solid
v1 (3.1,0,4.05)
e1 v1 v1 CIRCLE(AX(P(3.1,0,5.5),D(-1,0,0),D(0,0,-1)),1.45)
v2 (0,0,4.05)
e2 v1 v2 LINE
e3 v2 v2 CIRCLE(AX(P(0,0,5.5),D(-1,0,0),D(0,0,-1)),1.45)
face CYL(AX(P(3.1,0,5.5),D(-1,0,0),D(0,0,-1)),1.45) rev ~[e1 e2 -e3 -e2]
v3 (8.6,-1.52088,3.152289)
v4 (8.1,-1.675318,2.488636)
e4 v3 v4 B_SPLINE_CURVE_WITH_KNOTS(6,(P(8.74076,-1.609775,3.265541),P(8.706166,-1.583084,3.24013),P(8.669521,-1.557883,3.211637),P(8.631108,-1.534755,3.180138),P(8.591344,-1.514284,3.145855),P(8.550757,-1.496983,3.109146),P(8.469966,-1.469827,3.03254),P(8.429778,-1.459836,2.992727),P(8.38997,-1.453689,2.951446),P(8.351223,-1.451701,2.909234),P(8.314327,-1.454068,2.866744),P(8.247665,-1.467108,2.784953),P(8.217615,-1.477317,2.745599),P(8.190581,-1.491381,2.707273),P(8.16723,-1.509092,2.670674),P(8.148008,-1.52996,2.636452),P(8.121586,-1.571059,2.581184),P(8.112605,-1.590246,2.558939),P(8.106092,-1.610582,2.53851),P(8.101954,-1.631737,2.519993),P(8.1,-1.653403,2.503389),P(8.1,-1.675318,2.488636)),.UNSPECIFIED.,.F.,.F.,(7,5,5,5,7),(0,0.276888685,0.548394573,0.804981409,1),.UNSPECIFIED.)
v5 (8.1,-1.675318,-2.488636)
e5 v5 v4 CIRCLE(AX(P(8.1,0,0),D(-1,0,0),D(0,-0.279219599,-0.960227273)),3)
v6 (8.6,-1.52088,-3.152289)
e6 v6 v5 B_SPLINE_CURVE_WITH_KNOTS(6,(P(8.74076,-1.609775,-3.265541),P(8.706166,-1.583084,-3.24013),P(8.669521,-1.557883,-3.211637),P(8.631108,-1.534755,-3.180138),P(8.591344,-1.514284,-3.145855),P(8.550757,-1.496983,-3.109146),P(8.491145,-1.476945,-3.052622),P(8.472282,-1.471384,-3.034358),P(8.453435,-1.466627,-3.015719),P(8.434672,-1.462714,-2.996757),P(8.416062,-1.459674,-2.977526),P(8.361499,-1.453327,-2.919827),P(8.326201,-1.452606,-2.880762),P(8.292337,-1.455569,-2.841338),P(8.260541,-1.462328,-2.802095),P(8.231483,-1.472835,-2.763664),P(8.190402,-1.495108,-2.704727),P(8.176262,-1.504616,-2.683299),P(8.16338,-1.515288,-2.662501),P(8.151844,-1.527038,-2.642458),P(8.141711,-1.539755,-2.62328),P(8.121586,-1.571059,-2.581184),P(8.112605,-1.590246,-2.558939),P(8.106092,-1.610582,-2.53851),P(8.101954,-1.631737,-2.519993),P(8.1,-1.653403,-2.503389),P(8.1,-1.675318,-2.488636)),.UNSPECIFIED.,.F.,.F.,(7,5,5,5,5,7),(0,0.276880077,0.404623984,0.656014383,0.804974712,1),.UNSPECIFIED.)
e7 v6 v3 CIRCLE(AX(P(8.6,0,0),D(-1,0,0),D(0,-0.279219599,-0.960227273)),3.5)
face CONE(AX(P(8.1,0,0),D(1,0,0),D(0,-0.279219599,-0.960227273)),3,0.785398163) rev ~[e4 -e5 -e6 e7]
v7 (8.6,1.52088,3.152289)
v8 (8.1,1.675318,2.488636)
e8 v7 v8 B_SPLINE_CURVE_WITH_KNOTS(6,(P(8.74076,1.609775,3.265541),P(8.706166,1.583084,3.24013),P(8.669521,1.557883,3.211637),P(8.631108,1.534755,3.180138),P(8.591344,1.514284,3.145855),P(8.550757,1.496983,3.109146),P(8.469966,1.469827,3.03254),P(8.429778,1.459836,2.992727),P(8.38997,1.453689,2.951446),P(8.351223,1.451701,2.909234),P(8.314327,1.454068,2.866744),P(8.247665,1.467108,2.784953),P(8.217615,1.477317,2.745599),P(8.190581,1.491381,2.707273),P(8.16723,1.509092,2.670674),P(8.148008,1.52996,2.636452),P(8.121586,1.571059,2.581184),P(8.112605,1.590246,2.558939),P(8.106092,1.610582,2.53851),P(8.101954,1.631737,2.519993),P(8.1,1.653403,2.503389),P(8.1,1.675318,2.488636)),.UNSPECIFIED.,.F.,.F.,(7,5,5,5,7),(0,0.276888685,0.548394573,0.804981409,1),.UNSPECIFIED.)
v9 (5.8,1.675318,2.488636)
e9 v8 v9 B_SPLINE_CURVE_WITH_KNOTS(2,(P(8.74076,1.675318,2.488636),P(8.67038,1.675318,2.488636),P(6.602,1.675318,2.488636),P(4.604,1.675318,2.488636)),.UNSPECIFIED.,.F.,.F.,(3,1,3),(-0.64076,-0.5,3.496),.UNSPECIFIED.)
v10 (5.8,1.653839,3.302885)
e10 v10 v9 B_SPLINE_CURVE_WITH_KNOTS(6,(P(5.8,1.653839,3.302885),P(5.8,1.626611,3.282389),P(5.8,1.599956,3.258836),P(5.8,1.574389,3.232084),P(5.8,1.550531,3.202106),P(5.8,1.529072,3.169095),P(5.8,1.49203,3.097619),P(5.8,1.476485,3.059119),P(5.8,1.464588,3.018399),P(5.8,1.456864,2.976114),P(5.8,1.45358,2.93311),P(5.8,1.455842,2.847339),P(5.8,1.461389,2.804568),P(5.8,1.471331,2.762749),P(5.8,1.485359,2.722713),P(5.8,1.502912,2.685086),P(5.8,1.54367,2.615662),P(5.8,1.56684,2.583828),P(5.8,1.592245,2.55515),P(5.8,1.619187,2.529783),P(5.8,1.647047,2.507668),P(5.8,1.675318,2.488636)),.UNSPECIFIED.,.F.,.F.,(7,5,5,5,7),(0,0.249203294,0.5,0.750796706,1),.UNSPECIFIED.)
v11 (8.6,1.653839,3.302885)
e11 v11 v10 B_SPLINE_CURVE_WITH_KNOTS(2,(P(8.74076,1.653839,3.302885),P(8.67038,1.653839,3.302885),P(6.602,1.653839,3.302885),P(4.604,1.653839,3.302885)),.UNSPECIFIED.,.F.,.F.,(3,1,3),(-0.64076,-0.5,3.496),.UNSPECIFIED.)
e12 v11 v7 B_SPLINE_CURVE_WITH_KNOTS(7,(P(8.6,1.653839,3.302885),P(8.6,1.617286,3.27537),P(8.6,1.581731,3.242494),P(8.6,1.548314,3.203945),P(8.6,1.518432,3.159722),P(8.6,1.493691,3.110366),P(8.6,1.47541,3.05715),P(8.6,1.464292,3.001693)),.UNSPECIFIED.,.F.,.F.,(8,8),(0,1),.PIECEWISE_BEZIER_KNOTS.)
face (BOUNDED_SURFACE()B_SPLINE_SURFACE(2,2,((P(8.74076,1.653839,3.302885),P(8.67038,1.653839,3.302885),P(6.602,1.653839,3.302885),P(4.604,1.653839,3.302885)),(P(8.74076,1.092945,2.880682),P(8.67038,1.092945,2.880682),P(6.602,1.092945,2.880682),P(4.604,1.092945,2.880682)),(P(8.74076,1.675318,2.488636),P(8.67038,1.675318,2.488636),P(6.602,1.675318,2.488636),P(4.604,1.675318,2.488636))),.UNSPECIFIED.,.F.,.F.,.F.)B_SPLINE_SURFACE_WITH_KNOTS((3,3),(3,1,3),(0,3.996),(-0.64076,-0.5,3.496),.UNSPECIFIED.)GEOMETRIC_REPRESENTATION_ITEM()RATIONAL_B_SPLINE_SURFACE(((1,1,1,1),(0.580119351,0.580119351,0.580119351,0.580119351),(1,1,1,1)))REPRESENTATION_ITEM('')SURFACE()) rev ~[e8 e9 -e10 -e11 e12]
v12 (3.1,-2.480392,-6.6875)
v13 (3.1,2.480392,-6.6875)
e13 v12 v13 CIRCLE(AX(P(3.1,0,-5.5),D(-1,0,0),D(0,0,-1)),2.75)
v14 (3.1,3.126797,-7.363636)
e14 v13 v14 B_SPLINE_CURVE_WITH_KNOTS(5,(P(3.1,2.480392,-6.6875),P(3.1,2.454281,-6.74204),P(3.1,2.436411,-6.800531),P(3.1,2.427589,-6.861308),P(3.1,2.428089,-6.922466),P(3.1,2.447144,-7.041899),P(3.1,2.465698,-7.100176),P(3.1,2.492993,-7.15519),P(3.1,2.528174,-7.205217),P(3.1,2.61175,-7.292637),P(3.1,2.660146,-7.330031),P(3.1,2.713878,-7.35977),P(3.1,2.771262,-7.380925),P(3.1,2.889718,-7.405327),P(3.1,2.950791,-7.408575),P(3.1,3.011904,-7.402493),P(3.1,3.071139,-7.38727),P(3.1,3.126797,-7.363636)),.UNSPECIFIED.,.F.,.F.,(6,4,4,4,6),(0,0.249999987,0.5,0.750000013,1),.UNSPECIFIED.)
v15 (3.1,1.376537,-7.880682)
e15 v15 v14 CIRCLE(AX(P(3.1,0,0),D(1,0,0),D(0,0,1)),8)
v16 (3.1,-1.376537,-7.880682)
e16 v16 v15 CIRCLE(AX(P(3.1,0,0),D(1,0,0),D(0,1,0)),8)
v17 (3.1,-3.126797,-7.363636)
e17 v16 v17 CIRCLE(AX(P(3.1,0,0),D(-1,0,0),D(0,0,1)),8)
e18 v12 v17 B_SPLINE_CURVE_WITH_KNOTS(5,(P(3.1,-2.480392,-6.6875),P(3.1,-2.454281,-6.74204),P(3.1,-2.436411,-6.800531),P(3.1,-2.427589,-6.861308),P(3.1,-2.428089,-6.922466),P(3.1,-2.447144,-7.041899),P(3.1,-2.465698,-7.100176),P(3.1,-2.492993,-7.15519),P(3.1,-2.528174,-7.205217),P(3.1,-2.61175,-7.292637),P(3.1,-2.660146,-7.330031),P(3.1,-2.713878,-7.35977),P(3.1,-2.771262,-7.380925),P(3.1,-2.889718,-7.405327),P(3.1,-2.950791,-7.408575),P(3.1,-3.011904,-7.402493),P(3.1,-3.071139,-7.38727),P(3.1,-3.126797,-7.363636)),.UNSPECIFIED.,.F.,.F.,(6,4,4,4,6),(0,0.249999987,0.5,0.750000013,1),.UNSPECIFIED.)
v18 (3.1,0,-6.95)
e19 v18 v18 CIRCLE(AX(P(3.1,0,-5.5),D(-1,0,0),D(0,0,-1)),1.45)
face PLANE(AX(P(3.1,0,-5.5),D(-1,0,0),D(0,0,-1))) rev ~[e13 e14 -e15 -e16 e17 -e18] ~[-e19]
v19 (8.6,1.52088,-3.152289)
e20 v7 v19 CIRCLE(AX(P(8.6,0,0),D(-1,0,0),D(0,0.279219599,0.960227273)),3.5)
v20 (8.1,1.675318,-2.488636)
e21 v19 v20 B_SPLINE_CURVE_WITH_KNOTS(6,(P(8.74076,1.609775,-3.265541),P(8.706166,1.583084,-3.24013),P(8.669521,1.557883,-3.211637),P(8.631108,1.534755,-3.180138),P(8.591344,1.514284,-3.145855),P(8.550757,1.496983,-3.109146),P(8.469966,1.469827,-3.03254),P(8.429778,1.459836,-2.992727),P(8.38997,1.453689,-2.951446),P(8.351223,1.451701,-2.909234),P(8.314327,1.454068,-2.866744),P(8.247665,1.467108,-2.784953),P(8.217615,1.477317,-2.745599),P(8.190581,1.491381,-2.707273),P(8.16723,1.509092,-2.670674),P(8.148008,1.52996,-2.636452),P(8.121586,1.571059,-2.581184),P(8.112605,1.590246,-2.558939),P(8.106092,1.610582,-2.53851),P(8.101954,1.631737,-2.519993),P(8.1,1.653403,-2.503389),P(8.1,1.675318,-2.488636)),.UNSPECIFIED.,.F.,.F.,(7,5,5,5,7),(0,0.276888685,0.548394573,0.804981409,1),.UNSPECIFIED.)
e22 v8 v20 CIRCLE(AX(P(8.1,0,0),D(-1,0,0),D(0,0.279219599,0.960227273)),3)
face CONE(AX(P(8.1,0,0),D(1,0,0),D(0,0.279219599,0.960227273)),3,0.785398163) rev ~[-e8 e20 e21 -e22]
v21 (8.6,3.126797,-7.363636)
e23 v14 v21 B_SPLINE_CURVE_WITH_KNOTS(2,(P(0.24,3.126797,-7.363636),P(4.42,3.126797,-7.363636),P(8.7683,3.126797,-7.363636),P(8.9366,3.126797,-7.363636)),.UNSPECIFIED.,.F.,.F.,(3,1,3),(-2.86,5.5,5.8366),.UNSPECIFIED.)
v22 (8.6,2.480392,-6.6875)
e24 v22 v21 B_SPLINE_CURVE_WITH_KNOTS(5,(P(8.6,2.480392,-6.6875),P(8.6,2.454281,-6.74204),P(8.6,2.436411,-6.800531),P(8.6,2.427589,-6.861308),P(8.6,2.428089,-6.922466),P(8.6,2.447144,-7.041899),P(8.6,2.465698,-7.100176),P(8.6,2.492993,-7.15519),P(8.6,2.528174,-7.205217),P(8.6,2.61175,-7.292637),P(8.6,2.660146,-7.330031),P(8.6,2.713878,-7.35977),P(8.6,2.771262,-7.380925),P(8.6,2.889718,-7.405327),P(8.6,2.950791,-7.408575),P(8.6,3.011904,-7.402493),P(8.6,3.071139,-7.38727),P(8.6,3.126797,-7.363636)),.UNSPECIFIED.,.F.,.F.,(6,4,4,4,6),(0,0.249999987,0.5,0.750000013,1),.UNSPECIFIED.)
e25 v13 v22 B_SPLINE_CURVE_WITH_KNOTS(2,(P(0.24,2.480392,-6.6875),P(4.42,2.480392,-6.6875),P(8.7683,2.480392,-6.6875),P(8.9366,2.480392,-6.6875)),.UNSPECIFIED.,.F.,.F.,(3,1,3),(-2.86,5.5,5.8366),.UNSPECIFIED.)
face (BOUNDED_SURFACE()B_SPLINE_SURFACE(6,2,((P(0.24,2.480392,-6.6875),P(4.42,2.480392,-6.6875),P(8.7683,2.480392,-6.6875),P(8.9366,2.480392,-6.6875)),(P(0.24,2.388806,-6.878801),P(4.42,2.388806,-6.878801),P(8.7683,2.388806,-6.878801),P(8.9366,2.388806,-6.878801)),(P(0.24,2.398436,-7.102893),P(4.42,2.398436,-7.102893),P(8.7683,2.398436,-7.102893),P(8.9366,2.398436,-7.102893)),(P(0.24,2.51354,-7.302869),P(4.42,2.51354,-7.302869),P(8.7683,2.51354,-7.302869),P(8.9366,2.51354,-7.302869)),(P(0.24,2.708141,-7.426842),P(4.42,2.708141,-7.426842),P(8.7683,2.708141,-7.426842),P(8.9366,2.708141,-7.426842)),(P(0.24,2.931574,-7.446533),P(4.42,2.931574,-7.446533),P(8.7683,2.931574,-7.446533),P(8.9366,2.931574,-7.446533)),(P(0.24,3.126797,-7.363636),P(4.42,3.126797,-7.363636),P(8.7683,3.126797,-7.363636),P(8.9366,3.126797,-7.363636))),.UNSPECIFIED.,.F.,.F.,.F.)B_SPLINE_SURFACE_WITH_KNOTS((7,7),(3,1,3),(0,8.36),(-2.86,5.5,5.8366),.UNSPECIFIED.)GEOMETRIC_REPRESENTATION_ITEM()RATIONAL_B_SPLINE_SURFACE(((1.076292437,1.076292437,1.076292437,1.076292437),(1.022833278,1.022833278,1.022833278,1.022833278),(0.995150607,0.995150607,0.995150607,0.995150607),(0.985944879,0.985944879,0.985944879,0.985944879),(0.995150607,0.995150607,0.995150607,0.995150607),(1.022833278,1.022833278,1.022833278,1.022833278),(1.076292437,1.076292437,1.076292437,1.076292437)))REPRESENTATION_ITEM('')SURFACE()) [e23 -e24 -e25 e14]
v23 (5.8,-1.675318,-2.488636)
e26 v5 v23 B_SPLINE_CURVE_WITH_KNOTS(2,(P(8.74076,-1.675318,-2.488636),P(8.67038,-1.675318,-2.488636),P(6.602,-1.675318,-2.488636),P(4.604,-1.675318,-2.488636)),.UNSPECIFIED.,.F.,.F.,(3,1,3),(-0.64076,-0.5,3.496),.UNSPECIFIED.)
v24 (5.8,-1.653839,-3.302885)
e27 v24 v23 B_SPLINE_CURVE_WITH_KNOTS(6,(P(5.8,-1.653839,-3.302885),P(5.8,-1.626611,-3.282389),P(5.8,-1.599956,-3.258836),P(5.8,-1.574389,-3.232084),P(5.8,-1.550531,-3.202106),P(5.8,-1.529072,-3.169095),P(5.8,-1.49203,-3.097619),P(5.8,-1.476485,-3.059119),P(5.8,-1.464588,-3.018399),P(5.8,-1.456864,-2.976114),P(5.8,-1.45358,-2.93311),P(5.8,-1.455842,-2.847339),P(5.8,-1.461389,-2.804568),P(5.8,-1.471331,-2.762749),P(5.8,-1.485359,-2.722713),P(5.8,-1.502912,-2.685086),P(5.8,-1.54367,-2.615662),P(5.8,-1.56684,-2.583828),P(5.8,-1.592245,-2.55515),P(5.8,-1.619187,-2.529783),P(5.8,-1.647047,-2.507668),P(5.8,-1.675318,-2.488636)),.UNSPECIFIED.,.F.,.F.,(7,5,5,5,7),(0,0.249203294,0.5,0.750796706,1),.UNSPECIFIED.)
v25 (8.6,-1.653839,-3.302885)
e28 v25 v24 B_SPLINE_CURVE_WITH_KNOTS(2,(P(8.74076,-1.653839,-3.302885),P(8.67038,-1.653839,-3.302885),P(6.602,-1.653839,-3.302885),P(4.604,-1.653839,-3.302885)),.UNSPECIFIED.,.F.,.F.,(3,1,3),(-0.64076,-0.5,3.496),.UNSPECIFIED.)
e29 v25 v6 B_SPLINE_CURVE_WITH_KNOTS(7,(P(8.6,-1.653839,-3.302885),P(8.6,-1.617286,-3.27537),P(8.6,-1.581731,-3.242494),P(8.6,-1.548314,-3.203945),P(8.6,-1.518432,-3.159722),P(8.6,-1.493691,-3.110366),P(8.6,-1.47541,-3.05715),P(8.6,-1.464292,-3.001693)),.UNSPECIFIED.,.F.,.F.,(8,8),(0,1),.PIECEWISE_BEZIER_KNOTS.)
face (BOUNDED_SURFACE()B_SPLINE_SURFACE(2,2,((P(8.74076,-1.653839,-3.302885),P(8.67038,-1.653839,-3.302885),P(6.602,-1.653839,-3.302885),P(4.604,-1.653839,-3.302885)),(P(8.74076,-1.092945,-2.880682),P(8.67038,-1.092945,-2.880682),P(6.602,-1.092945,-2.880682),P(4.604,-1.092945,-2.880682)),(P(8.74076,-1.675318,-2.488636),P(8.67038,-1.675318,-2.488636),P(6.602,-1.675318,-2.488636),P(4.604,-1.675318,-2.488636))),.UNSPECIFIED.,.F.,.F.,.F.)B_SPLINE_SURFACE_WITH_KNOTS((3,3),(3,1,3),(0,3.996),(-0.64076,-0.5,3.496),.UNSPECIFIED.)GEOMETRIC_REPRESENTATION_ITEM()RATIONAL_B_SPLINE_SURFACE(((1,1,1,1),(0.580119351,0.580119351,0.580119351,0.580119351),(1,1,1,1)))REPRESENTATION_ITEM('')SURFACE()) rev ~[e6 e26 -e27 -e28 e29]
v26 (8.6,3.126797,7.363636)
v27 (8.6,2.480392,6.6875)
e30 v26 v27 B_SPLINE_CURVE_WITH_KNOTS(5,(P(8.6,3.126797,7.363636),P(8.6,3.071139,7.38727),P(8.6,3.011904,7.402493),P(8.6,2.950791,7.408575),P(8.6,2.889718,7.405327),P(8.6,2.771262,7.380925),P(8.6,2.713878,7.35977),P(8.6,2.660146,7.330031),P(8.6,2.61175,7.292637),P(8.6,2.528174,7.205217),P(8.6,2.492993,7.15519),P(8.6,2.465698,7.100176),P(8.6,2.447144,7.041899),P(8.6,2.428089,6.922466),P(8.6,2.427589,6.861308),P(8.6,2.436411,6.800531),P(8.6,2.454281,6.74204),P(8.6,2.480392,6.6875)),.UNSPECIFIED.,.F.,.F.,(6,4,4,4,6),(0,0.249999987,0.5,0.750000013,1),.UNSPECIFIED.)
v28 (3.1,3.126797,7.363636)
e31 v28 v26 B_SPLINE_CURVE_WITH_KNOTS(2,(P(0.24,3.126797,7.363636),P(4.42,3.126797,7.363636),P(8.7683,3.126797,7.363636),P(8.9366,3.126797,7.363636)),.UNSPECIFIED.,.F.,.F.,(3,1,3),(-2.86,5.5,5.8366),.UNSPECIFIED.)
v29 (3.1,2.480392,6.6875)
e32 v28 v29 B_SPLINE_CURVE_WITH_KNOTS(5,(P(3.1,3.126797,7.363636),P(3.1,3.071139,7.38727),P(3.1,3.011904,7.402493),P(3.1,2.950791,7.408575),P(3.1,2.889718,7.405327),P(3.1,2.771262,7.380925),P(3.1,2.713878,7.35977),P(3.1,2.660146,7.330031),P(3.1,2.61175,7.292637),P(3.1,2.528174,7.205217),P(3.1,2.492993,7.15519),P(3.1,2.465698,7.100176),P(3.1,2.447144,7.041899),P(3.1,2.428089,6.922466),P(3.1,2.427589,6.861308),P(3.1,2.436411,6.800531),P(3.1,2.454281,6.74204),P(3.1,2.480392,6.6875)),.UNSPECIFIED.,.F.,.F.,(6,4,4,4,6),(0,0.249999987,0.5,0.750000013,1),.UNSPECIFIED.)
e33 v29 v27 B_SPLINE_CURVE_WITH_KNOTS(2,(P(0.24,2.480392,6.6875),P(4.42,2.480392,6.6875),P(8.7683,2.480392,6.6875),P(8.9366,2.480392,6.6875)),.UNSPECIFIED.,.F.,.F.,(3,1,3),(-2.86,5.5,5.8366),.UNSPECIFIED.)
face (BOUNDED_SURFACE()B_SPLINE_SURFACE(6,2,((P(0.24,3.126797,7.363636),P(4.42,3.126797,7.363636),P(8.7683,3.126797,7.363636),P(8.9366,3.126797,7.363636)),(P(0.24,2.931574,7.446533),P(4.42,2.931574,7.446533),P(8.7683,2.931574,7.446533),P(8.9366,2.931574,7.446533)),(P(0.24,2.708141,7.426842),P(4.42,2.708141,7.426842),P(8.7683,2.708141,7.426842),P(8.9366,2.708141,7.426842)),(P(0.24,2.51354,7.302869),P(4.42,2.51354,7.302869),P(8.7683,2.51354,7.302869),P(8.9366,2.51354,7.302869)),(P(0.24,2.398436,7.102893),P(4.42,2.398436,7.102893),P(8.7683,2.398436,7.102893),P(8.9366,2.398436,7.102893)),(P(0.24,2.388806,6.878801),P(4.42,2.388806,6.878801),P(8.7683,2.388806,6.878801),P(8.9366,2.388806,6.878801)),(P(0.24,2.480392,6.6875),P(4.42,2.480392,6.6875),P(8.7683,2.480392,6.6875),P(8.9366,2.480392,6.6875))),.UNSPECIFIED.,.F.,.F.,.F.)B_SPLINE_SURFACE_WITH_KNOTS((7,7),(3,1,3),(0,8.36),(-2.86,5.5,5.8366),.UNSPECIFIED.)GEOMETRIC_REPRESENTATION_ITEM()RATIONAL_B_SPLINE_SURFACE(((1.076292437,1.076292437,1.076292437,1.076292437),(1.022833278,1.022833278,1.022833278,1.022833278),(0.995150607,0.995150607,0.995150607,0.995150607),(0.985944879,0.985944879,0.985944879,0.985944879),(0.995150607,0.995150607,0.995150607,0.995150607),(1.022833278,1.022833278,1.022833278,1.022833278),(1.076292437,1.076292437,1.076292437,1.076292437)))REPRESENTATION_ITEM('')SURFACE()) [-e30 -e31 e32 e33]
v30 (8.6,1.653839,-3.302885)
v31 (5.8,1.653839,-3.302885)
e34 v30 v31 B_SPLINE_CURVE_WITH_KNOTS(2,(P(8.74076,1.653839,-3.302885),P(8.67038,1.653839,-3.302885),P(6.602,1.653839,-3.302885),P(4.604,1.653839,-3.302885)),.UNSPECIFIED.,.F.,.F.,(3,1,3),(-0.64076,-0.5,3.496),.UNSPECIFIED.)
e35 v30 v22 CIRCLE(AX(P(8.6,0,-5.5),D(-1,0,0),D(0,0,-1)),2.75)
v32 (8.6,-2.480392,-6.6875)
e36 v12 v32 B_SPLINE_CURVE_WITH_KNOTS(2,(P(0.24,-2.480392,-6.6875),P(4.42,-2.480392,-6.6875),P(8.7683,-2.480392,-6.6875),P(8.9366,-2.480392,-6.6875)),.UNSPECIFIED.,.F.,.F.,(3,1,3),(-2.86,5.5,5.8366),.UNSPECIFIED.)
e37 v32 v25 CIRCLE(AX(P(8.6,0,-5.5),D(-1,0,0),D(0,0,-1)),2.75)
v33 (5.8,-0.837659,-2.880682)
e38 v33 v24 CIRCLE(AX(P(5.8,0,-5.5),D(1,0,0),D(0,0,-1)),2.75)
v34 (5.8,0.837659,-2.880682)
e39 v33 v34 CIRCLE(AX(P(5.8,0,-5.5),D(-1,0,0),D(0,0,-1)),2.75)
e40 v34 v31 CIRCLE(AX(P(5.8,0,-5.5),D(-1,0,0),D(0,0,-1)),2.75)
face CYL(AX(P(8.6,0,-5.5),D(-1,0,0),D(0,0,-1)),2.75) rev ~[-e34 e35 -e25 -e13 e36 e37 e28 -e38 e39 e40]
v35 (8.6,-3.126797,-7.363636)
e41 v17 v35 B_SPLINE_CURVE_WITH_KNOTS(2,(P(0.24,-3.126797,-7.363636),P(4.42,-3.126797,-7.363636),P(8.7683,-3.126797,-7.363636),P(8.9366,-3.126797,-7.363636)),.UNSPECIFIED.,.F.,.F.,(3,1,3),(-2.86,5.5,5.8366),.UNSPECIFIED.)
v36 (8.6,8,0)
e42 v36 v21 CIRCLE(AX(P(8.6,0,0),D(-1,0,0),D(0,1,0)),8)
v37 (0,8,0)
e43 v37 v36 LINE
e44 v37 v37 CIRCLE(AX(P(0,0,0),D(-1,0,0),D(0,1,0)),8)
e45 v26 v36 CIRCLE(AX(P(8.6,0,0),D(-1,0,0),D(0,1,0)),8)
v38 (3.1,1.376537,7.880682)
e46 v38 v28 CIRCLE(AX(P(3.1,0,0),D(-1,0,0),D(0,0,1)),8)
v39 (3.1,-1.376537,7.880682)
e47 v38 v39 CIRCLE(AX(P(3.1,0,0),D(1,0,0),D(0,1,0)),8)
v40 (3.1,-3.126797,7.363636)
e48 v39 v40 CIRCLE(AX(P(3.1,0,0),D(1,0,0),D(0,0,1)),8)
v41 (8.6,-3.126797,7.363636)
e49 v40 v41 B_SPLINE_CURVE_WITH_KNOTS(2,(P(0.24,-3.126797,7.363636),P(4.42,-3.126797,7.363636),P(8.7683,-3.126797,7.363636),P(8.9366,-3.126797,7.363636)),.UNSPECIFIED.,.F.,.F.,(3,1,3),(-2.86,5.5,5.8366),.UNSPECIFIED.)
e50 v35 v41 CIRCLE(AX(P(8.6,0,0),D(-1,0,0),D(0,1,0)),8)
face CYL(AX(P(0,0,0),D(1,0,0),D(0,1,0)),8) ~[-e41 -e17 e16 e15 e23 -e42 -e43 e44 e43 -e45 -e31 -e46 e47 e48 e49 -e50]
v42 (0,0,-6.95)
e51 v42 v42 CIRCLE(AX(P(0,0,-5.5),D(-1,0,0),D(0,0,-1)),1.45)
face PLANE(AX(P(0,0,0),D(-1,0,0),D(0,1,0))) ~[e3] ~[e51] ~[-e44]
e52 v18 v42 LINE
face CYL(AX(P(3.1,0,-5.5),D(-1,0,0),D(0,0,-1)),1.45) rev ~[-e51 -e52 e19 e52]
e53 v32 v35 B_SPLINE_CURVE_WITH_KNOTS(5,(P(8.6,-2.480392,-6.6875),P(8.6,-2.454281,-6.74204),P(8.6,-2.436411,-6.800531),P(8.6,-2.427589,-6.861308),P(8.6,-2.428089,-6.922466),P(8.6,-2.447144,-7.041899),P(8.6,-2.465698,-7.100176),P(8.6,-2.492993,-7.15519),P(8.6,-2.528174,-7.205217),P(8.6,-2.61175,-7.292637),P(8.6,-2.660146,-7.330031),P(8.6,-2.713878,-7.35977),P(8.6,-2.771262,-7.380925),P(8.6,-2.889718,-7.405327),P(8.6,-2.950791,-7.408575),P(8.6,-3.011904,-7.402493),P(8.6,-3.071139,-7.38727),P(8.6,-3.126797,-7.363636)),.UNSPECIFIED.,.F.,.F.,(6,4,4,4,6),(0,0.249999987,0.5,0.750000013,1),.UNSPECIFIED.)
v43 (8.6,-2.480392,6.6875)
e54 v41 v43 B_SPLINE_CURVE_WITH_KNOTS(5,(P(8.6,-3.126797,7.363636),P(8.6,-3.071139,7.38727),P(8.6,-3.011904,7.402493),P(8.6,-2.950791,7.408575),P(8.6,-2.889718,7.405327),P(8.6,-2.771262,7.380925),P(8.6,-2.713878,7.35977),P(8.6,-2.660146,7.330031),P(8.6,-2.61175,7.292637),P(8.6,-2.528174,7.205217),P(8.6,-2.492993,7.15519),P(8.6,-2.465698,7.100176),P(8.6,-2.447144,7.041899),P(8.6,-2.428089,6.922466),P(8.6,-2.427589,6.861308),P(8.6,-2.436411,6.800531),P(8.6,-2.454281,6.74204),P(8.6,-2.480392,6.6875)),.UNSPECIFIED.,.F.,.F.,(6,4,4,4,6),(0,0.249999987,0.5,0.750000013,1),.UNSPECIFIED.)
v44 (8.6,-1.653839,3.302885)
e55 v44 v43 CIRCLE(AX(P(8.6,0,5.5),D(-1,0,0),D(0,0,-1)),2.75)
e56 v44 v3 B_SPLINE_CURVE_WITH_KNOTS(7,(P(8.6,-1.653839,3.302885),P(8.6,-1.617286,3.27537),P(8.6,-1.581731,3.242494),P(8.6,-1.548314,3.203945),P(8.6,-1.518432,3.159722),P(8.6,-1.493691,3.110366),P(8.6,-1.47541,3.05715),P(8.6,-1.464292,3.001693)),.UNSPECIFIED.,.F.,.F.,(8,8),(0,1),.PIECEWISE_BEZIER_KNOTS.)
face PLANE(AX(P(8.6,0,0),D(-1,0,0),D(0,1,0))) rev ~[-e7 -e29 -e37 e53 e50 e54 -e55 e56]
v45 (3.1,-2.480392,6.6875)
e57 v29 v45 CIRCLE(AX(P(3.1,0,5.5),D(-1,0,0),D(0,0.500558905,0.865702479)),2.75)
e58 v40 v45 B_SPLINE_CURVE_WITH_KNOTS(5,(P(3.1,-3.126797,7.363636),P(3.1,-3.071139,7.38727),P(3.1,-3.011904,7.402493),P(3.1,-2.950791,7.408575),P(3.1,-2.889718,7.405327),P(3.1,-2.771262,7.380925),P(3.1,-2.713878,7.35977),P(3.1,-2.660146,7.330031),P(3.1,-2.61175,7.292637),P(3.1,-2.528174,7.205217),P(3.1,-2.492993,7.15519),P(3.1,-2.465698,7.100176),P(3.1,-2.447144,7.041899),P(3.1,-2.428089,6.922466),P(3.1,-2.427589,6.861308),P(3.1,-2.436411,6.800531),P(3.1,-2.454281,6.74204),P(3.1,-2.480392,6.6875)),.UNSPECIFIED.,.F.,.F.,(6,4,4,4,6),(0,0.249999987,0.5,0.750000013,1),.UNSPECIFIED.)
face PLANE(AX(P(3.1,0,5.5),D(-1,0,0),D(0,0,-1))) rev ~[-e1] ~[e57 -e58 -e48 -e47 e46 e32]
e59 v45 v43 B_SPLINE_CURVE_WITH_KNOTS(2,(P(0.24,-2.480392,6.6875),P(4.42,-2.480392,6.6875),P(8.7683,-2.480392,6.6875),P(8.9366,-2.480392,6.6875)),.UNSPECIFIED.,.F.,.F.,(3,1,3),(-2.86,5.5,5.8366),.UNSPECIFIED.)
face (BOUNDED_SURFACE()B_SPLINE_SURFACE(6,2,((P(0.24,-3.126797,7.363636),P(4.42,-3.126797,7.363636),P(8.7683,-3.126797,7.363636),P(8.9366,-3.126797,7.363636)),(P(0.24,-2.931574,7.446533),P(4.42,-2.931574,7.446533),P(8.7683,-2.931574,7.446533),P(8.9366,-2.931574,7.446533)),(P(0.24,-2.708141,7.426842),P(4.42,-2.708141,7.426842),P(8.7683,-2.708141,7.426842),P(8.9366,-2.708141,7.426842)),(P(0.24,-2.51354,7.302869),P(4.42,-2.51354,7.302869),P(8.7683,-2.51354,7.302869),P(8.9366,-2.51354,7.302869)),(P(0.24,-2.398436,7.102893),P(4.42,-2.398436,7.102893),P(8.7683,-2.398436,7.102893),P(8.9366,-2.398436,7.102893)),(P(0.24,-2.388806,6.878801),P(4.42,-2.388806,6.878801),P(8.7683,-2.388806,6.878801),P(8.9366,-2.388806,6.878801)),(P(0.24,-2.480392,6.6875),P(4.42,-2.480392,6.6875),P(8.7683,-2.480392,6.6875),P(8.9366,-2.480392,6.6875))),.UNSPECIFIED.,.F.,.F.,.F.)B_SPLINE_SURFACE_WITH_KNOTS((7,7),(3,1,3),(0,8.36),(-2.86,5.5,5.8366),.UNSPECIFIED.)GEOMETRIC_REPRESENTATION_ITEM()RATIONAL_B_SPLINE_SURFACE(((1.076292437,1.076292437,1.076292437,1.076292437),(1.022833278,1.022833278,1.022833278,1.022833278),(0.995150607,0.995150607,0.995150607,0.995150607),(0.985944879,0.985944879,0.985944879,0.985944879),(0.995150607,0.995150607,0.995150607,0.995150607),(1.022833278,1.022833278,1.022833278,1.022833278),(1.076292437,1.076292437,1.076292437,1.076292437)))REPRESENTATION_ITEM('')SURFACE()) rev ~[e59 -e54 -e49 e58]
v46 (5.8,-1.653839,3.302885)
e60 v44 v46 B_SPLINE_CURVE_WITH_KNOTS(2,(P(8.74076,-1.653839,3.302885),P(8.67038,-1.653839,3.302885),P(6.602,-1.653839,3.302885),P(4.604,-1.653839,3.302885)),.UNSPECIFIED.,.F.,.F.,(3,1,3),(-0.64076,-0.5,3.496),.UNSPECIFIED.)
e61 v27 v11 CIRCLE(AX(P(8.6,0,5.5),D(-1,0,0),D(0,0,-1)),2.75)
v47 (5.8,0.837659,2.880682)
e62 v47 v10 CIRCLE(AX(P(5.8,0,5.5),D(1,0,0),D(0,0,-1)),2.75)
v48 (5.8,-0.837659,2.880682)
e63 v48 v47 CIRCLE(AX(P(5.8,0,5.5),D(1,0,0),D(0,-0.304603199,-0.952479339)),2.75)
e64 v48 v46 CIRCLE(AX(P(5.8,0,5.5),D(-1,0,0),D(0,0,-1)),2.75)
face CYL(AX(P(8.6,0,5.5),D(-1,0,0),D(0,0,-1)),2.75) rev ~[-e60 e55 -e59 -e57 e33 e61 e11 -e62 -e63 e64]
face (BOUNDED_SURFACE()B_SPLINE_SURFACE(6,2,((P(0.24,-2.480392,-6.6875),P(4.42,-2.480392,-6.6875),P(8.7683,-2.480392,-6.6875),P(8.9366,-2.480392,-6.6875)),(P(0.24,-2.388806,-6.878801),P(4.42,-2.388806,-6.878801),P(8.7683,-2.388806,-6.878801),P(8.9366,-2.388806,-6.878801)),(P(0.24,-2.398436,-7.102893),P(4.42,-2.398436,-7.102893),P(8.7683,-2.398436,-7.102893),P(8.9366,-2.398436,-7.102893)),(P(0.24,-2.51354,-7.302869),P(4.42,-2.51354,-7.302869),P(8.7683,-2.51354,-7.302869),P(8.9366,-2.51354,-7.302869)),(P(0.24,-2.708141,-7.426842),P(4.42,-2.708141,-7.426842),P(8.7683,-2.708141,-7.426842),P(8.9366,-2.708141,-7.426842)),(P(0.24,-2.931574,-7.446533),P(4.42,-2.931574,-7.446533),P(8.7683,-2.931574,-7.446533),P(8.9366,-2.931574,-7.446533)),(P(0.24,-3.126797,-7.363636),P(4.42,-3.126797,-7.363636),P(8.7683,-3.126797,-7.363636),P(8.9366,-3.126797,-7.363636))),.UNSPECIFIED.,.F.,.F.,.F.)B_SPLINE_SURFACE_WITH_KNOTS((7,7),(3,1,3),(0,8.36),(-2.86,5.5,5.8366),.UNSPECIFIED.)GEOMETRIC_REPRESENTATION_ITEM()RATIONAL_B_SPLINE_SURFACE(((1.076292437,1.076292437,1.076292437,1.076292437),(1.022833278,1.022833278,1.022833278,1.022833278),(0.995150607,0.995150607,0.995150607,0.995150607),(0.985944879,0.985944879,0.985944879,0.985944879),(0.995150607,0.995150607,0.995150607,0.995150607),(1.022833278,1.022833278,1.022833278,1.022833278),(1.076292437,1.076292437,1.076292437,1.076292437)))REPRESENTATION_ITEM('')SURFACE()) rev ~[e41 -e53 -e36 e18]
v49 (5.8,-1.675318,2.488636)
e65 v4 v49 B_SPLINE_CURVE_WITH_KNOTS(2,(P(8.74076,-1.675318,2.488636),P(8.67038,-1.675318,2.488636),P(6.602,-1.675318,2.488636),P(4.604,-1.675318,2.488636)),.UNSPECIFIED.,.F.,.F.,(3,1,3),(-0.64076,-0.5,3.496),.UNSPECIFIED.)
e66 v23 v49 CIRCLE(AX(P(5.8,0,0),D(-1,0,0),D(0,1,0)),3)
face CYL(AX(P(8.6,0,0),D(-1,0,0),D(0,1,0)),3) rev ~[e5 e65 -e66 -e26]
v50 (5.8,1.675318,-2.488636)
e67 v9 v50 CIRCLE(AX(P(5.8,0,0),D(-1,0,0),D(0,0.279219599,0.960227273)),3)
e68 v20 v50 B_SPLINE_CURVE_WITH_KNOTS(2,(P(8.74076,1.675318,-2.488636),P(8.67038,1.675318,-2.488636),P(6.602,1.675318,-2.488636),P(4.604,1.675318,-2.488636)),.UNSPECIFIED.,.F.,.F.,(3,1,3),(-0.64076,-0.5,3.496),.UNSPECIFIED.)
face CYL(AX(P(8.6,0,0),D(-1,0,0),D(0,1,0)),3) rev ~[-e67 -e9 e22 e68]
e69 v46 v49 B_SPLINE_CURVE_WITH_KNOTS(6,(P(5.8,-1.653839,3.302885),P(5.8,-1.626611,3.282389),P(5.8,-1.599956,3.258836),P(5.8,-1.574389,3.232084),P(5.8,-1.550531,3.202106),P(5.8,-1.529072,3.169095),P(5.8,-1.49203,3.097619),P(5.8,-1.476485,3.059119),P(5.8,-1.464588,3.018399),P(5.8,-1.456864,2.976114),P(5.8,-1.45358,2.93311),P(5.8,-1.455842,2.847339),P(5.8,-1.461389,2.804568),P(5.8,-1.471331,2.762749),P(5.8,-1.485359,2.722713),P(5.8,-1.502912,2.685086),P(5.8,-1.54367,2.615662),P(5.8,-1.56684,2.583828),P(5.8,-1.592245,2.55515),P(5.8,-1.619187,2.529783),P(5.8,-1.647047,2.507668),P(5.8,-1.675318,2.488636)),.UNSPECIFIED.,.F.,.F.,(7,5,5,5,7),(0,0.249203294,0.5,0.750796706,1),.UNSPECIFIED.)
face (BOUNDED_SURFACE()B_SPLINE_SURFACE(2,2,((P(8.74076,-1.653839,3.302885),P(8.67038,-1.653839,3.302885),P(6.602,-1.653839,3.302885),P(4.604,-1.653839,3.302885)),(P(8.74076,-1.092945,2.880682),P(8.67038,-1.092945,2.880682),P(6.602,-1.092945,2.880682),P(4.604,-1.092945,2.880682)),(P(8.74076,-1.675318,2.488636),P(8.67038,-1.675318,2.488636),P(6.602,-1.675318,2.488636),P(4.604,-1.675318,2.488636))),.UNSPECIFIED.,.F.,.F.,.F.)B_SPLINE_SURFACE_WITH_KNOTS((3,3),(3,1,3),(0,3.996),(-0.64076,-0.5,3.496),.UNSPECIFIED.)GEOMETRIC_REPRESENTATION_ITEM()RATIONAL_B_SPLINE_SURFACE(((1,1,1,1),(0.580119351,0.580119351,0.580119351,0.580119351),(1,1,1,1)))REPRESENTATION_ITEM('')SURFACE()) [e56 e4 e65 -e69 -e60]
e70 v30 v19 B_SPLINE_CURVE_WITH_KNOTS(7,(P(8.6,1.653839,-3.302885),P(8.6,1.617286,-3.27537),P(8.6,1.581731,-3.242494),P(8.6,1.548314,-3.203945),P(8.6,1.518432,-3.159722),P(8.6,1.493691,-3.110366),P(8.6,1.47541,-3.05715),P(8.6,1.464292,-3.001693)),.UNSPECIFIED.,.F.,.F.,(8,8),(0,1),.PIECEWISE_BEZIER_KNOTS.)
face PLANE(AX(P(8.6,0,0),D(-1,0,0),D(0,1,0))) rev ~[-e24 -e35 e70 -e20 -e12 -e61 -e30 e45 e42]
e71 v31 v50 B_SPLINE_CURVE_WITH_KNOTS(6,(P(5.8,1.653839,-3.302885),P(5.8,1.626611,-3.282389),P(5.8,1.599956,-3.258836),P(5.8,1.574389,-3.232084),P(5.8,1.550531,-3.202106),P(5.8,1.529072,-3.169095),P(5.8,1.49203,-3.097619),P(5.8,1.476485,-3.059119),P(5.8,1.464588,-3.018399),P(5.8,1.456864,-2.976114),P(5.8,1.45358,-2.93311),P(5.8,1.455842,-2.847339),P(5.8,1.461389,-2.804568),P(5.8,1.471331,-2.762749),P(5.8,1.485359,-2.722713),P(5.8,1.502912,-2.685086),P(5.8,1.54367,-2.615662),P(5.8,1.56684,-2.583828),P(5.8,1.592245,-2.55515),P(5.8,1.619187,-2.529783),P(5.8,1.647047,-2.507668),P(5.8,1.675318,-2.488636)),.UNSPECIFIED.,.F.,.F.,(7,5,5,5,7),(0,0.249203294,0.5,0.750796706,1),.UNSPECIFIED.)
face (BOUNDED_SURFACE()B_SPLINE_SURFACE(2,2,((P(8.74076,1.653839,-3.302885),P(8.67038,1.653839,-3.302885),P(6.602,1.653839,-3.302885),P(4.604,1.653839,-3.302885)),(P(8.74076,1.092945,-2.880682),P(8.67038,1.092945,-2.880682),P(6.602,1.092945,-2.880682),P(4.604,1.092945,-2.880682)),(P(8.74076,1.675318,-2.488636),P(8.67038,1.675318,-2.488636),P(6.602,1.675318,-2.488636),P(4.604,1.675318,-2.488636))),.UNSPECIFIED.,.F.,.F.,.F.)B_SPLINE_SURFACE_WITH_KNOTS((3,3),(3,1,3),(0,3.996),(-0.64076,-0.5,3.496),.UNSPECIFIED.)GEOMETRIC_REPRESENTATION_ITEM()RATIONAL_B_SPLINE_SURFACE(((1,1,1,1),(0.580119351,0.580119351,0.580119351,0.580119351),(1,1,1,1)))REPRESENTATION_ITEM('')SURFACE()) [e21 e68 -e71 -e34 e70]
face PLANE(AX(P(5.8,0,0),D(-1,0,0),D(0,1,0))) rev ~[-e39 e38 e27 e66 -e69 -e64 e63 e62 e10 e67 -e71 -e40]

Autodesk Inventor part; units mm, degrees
ref_plane "YZ Plane" through (0, 0, 0) normal (1, 0, 0) x (0, 1, 0)
ref_plane "XZ Plane" through (0, 0, 0) normal (0, 1, 0) x (-1, 0, 0)
ref_plane "XY Plane" through (0, 0, 0) normal (0, 0, 1) x (1, 0, 0)
sketch "スケッチ1" plane through (0, 0, 0) normal (0, 0, 1) x (1, 0, 0)
  line L0 (0, 0) -> (0, 3.5)
  line L1 (0, 3.5) -> (0, 3.5)
  line L2 (0, 3.5) -> (0, 8)
  line L3 (0, 8) -> (8.6, 8)
  line L4 (8.6, 8) -> (8.6, 3)
  line L5 (8.6, 3) -> (5.8, 3)
  line L6 (5.8, 3) -> (5.8, 0)
  line L7 (5.8, 0) -> (0, 0)
  dimension "d0" = 3.5
  dimension "d1" = 3
  dimension "d2" = 2.8
  dimension "d4" = 0
  dimension "d5" = 8
  dimension "d34" = 5.8
revolve "回転1" add sketch "スケッチ1" angle 360 about axis through (5.8, 0, 0) along (-1, 0, 0)
sketch "スケッチ2" plane through (8.6, 0, 0) normal (1, 0, 0) x (0, 0, -1)
  point P0 (0, 0)
  point P1 (-5.5, 0)
  point P2 (5.5, 0)
  dimension "d10" = 5.5
  dimension "d11" = 5.5
hole "穴1" at (8.6, 0, 5.5) at (8.6, 0, -5.5) direction (-1, 0, 0) diameter 2.9 end through all counterbore diameter 5.5 counterbore depth 5.5 clearance for "Socket Head Cap Screw" size "M2.5" standard "Ansi Metric M Profile"
chamfer "面取り5" distance 0.5 angle 45 2 edges at (8.6, 3, 0) (8.6, -3, 0)
fillet "フィレット2" radius 0.5 8 edges at (6.95, 0.8377, -2.8807) (6.95, -0.8377, -2.8807) (6.95, 0.8377, 2.8807) (6.95, -0.8377, 2.8807) (5.85, 1.3765, -7.8807) (5.85, -1.3765, -7.8807) (5.85, 1.3765, 7.8807) (5.85, -1.3765, 7.8807)
properties part number "base48" material "ABS プラスチック"
